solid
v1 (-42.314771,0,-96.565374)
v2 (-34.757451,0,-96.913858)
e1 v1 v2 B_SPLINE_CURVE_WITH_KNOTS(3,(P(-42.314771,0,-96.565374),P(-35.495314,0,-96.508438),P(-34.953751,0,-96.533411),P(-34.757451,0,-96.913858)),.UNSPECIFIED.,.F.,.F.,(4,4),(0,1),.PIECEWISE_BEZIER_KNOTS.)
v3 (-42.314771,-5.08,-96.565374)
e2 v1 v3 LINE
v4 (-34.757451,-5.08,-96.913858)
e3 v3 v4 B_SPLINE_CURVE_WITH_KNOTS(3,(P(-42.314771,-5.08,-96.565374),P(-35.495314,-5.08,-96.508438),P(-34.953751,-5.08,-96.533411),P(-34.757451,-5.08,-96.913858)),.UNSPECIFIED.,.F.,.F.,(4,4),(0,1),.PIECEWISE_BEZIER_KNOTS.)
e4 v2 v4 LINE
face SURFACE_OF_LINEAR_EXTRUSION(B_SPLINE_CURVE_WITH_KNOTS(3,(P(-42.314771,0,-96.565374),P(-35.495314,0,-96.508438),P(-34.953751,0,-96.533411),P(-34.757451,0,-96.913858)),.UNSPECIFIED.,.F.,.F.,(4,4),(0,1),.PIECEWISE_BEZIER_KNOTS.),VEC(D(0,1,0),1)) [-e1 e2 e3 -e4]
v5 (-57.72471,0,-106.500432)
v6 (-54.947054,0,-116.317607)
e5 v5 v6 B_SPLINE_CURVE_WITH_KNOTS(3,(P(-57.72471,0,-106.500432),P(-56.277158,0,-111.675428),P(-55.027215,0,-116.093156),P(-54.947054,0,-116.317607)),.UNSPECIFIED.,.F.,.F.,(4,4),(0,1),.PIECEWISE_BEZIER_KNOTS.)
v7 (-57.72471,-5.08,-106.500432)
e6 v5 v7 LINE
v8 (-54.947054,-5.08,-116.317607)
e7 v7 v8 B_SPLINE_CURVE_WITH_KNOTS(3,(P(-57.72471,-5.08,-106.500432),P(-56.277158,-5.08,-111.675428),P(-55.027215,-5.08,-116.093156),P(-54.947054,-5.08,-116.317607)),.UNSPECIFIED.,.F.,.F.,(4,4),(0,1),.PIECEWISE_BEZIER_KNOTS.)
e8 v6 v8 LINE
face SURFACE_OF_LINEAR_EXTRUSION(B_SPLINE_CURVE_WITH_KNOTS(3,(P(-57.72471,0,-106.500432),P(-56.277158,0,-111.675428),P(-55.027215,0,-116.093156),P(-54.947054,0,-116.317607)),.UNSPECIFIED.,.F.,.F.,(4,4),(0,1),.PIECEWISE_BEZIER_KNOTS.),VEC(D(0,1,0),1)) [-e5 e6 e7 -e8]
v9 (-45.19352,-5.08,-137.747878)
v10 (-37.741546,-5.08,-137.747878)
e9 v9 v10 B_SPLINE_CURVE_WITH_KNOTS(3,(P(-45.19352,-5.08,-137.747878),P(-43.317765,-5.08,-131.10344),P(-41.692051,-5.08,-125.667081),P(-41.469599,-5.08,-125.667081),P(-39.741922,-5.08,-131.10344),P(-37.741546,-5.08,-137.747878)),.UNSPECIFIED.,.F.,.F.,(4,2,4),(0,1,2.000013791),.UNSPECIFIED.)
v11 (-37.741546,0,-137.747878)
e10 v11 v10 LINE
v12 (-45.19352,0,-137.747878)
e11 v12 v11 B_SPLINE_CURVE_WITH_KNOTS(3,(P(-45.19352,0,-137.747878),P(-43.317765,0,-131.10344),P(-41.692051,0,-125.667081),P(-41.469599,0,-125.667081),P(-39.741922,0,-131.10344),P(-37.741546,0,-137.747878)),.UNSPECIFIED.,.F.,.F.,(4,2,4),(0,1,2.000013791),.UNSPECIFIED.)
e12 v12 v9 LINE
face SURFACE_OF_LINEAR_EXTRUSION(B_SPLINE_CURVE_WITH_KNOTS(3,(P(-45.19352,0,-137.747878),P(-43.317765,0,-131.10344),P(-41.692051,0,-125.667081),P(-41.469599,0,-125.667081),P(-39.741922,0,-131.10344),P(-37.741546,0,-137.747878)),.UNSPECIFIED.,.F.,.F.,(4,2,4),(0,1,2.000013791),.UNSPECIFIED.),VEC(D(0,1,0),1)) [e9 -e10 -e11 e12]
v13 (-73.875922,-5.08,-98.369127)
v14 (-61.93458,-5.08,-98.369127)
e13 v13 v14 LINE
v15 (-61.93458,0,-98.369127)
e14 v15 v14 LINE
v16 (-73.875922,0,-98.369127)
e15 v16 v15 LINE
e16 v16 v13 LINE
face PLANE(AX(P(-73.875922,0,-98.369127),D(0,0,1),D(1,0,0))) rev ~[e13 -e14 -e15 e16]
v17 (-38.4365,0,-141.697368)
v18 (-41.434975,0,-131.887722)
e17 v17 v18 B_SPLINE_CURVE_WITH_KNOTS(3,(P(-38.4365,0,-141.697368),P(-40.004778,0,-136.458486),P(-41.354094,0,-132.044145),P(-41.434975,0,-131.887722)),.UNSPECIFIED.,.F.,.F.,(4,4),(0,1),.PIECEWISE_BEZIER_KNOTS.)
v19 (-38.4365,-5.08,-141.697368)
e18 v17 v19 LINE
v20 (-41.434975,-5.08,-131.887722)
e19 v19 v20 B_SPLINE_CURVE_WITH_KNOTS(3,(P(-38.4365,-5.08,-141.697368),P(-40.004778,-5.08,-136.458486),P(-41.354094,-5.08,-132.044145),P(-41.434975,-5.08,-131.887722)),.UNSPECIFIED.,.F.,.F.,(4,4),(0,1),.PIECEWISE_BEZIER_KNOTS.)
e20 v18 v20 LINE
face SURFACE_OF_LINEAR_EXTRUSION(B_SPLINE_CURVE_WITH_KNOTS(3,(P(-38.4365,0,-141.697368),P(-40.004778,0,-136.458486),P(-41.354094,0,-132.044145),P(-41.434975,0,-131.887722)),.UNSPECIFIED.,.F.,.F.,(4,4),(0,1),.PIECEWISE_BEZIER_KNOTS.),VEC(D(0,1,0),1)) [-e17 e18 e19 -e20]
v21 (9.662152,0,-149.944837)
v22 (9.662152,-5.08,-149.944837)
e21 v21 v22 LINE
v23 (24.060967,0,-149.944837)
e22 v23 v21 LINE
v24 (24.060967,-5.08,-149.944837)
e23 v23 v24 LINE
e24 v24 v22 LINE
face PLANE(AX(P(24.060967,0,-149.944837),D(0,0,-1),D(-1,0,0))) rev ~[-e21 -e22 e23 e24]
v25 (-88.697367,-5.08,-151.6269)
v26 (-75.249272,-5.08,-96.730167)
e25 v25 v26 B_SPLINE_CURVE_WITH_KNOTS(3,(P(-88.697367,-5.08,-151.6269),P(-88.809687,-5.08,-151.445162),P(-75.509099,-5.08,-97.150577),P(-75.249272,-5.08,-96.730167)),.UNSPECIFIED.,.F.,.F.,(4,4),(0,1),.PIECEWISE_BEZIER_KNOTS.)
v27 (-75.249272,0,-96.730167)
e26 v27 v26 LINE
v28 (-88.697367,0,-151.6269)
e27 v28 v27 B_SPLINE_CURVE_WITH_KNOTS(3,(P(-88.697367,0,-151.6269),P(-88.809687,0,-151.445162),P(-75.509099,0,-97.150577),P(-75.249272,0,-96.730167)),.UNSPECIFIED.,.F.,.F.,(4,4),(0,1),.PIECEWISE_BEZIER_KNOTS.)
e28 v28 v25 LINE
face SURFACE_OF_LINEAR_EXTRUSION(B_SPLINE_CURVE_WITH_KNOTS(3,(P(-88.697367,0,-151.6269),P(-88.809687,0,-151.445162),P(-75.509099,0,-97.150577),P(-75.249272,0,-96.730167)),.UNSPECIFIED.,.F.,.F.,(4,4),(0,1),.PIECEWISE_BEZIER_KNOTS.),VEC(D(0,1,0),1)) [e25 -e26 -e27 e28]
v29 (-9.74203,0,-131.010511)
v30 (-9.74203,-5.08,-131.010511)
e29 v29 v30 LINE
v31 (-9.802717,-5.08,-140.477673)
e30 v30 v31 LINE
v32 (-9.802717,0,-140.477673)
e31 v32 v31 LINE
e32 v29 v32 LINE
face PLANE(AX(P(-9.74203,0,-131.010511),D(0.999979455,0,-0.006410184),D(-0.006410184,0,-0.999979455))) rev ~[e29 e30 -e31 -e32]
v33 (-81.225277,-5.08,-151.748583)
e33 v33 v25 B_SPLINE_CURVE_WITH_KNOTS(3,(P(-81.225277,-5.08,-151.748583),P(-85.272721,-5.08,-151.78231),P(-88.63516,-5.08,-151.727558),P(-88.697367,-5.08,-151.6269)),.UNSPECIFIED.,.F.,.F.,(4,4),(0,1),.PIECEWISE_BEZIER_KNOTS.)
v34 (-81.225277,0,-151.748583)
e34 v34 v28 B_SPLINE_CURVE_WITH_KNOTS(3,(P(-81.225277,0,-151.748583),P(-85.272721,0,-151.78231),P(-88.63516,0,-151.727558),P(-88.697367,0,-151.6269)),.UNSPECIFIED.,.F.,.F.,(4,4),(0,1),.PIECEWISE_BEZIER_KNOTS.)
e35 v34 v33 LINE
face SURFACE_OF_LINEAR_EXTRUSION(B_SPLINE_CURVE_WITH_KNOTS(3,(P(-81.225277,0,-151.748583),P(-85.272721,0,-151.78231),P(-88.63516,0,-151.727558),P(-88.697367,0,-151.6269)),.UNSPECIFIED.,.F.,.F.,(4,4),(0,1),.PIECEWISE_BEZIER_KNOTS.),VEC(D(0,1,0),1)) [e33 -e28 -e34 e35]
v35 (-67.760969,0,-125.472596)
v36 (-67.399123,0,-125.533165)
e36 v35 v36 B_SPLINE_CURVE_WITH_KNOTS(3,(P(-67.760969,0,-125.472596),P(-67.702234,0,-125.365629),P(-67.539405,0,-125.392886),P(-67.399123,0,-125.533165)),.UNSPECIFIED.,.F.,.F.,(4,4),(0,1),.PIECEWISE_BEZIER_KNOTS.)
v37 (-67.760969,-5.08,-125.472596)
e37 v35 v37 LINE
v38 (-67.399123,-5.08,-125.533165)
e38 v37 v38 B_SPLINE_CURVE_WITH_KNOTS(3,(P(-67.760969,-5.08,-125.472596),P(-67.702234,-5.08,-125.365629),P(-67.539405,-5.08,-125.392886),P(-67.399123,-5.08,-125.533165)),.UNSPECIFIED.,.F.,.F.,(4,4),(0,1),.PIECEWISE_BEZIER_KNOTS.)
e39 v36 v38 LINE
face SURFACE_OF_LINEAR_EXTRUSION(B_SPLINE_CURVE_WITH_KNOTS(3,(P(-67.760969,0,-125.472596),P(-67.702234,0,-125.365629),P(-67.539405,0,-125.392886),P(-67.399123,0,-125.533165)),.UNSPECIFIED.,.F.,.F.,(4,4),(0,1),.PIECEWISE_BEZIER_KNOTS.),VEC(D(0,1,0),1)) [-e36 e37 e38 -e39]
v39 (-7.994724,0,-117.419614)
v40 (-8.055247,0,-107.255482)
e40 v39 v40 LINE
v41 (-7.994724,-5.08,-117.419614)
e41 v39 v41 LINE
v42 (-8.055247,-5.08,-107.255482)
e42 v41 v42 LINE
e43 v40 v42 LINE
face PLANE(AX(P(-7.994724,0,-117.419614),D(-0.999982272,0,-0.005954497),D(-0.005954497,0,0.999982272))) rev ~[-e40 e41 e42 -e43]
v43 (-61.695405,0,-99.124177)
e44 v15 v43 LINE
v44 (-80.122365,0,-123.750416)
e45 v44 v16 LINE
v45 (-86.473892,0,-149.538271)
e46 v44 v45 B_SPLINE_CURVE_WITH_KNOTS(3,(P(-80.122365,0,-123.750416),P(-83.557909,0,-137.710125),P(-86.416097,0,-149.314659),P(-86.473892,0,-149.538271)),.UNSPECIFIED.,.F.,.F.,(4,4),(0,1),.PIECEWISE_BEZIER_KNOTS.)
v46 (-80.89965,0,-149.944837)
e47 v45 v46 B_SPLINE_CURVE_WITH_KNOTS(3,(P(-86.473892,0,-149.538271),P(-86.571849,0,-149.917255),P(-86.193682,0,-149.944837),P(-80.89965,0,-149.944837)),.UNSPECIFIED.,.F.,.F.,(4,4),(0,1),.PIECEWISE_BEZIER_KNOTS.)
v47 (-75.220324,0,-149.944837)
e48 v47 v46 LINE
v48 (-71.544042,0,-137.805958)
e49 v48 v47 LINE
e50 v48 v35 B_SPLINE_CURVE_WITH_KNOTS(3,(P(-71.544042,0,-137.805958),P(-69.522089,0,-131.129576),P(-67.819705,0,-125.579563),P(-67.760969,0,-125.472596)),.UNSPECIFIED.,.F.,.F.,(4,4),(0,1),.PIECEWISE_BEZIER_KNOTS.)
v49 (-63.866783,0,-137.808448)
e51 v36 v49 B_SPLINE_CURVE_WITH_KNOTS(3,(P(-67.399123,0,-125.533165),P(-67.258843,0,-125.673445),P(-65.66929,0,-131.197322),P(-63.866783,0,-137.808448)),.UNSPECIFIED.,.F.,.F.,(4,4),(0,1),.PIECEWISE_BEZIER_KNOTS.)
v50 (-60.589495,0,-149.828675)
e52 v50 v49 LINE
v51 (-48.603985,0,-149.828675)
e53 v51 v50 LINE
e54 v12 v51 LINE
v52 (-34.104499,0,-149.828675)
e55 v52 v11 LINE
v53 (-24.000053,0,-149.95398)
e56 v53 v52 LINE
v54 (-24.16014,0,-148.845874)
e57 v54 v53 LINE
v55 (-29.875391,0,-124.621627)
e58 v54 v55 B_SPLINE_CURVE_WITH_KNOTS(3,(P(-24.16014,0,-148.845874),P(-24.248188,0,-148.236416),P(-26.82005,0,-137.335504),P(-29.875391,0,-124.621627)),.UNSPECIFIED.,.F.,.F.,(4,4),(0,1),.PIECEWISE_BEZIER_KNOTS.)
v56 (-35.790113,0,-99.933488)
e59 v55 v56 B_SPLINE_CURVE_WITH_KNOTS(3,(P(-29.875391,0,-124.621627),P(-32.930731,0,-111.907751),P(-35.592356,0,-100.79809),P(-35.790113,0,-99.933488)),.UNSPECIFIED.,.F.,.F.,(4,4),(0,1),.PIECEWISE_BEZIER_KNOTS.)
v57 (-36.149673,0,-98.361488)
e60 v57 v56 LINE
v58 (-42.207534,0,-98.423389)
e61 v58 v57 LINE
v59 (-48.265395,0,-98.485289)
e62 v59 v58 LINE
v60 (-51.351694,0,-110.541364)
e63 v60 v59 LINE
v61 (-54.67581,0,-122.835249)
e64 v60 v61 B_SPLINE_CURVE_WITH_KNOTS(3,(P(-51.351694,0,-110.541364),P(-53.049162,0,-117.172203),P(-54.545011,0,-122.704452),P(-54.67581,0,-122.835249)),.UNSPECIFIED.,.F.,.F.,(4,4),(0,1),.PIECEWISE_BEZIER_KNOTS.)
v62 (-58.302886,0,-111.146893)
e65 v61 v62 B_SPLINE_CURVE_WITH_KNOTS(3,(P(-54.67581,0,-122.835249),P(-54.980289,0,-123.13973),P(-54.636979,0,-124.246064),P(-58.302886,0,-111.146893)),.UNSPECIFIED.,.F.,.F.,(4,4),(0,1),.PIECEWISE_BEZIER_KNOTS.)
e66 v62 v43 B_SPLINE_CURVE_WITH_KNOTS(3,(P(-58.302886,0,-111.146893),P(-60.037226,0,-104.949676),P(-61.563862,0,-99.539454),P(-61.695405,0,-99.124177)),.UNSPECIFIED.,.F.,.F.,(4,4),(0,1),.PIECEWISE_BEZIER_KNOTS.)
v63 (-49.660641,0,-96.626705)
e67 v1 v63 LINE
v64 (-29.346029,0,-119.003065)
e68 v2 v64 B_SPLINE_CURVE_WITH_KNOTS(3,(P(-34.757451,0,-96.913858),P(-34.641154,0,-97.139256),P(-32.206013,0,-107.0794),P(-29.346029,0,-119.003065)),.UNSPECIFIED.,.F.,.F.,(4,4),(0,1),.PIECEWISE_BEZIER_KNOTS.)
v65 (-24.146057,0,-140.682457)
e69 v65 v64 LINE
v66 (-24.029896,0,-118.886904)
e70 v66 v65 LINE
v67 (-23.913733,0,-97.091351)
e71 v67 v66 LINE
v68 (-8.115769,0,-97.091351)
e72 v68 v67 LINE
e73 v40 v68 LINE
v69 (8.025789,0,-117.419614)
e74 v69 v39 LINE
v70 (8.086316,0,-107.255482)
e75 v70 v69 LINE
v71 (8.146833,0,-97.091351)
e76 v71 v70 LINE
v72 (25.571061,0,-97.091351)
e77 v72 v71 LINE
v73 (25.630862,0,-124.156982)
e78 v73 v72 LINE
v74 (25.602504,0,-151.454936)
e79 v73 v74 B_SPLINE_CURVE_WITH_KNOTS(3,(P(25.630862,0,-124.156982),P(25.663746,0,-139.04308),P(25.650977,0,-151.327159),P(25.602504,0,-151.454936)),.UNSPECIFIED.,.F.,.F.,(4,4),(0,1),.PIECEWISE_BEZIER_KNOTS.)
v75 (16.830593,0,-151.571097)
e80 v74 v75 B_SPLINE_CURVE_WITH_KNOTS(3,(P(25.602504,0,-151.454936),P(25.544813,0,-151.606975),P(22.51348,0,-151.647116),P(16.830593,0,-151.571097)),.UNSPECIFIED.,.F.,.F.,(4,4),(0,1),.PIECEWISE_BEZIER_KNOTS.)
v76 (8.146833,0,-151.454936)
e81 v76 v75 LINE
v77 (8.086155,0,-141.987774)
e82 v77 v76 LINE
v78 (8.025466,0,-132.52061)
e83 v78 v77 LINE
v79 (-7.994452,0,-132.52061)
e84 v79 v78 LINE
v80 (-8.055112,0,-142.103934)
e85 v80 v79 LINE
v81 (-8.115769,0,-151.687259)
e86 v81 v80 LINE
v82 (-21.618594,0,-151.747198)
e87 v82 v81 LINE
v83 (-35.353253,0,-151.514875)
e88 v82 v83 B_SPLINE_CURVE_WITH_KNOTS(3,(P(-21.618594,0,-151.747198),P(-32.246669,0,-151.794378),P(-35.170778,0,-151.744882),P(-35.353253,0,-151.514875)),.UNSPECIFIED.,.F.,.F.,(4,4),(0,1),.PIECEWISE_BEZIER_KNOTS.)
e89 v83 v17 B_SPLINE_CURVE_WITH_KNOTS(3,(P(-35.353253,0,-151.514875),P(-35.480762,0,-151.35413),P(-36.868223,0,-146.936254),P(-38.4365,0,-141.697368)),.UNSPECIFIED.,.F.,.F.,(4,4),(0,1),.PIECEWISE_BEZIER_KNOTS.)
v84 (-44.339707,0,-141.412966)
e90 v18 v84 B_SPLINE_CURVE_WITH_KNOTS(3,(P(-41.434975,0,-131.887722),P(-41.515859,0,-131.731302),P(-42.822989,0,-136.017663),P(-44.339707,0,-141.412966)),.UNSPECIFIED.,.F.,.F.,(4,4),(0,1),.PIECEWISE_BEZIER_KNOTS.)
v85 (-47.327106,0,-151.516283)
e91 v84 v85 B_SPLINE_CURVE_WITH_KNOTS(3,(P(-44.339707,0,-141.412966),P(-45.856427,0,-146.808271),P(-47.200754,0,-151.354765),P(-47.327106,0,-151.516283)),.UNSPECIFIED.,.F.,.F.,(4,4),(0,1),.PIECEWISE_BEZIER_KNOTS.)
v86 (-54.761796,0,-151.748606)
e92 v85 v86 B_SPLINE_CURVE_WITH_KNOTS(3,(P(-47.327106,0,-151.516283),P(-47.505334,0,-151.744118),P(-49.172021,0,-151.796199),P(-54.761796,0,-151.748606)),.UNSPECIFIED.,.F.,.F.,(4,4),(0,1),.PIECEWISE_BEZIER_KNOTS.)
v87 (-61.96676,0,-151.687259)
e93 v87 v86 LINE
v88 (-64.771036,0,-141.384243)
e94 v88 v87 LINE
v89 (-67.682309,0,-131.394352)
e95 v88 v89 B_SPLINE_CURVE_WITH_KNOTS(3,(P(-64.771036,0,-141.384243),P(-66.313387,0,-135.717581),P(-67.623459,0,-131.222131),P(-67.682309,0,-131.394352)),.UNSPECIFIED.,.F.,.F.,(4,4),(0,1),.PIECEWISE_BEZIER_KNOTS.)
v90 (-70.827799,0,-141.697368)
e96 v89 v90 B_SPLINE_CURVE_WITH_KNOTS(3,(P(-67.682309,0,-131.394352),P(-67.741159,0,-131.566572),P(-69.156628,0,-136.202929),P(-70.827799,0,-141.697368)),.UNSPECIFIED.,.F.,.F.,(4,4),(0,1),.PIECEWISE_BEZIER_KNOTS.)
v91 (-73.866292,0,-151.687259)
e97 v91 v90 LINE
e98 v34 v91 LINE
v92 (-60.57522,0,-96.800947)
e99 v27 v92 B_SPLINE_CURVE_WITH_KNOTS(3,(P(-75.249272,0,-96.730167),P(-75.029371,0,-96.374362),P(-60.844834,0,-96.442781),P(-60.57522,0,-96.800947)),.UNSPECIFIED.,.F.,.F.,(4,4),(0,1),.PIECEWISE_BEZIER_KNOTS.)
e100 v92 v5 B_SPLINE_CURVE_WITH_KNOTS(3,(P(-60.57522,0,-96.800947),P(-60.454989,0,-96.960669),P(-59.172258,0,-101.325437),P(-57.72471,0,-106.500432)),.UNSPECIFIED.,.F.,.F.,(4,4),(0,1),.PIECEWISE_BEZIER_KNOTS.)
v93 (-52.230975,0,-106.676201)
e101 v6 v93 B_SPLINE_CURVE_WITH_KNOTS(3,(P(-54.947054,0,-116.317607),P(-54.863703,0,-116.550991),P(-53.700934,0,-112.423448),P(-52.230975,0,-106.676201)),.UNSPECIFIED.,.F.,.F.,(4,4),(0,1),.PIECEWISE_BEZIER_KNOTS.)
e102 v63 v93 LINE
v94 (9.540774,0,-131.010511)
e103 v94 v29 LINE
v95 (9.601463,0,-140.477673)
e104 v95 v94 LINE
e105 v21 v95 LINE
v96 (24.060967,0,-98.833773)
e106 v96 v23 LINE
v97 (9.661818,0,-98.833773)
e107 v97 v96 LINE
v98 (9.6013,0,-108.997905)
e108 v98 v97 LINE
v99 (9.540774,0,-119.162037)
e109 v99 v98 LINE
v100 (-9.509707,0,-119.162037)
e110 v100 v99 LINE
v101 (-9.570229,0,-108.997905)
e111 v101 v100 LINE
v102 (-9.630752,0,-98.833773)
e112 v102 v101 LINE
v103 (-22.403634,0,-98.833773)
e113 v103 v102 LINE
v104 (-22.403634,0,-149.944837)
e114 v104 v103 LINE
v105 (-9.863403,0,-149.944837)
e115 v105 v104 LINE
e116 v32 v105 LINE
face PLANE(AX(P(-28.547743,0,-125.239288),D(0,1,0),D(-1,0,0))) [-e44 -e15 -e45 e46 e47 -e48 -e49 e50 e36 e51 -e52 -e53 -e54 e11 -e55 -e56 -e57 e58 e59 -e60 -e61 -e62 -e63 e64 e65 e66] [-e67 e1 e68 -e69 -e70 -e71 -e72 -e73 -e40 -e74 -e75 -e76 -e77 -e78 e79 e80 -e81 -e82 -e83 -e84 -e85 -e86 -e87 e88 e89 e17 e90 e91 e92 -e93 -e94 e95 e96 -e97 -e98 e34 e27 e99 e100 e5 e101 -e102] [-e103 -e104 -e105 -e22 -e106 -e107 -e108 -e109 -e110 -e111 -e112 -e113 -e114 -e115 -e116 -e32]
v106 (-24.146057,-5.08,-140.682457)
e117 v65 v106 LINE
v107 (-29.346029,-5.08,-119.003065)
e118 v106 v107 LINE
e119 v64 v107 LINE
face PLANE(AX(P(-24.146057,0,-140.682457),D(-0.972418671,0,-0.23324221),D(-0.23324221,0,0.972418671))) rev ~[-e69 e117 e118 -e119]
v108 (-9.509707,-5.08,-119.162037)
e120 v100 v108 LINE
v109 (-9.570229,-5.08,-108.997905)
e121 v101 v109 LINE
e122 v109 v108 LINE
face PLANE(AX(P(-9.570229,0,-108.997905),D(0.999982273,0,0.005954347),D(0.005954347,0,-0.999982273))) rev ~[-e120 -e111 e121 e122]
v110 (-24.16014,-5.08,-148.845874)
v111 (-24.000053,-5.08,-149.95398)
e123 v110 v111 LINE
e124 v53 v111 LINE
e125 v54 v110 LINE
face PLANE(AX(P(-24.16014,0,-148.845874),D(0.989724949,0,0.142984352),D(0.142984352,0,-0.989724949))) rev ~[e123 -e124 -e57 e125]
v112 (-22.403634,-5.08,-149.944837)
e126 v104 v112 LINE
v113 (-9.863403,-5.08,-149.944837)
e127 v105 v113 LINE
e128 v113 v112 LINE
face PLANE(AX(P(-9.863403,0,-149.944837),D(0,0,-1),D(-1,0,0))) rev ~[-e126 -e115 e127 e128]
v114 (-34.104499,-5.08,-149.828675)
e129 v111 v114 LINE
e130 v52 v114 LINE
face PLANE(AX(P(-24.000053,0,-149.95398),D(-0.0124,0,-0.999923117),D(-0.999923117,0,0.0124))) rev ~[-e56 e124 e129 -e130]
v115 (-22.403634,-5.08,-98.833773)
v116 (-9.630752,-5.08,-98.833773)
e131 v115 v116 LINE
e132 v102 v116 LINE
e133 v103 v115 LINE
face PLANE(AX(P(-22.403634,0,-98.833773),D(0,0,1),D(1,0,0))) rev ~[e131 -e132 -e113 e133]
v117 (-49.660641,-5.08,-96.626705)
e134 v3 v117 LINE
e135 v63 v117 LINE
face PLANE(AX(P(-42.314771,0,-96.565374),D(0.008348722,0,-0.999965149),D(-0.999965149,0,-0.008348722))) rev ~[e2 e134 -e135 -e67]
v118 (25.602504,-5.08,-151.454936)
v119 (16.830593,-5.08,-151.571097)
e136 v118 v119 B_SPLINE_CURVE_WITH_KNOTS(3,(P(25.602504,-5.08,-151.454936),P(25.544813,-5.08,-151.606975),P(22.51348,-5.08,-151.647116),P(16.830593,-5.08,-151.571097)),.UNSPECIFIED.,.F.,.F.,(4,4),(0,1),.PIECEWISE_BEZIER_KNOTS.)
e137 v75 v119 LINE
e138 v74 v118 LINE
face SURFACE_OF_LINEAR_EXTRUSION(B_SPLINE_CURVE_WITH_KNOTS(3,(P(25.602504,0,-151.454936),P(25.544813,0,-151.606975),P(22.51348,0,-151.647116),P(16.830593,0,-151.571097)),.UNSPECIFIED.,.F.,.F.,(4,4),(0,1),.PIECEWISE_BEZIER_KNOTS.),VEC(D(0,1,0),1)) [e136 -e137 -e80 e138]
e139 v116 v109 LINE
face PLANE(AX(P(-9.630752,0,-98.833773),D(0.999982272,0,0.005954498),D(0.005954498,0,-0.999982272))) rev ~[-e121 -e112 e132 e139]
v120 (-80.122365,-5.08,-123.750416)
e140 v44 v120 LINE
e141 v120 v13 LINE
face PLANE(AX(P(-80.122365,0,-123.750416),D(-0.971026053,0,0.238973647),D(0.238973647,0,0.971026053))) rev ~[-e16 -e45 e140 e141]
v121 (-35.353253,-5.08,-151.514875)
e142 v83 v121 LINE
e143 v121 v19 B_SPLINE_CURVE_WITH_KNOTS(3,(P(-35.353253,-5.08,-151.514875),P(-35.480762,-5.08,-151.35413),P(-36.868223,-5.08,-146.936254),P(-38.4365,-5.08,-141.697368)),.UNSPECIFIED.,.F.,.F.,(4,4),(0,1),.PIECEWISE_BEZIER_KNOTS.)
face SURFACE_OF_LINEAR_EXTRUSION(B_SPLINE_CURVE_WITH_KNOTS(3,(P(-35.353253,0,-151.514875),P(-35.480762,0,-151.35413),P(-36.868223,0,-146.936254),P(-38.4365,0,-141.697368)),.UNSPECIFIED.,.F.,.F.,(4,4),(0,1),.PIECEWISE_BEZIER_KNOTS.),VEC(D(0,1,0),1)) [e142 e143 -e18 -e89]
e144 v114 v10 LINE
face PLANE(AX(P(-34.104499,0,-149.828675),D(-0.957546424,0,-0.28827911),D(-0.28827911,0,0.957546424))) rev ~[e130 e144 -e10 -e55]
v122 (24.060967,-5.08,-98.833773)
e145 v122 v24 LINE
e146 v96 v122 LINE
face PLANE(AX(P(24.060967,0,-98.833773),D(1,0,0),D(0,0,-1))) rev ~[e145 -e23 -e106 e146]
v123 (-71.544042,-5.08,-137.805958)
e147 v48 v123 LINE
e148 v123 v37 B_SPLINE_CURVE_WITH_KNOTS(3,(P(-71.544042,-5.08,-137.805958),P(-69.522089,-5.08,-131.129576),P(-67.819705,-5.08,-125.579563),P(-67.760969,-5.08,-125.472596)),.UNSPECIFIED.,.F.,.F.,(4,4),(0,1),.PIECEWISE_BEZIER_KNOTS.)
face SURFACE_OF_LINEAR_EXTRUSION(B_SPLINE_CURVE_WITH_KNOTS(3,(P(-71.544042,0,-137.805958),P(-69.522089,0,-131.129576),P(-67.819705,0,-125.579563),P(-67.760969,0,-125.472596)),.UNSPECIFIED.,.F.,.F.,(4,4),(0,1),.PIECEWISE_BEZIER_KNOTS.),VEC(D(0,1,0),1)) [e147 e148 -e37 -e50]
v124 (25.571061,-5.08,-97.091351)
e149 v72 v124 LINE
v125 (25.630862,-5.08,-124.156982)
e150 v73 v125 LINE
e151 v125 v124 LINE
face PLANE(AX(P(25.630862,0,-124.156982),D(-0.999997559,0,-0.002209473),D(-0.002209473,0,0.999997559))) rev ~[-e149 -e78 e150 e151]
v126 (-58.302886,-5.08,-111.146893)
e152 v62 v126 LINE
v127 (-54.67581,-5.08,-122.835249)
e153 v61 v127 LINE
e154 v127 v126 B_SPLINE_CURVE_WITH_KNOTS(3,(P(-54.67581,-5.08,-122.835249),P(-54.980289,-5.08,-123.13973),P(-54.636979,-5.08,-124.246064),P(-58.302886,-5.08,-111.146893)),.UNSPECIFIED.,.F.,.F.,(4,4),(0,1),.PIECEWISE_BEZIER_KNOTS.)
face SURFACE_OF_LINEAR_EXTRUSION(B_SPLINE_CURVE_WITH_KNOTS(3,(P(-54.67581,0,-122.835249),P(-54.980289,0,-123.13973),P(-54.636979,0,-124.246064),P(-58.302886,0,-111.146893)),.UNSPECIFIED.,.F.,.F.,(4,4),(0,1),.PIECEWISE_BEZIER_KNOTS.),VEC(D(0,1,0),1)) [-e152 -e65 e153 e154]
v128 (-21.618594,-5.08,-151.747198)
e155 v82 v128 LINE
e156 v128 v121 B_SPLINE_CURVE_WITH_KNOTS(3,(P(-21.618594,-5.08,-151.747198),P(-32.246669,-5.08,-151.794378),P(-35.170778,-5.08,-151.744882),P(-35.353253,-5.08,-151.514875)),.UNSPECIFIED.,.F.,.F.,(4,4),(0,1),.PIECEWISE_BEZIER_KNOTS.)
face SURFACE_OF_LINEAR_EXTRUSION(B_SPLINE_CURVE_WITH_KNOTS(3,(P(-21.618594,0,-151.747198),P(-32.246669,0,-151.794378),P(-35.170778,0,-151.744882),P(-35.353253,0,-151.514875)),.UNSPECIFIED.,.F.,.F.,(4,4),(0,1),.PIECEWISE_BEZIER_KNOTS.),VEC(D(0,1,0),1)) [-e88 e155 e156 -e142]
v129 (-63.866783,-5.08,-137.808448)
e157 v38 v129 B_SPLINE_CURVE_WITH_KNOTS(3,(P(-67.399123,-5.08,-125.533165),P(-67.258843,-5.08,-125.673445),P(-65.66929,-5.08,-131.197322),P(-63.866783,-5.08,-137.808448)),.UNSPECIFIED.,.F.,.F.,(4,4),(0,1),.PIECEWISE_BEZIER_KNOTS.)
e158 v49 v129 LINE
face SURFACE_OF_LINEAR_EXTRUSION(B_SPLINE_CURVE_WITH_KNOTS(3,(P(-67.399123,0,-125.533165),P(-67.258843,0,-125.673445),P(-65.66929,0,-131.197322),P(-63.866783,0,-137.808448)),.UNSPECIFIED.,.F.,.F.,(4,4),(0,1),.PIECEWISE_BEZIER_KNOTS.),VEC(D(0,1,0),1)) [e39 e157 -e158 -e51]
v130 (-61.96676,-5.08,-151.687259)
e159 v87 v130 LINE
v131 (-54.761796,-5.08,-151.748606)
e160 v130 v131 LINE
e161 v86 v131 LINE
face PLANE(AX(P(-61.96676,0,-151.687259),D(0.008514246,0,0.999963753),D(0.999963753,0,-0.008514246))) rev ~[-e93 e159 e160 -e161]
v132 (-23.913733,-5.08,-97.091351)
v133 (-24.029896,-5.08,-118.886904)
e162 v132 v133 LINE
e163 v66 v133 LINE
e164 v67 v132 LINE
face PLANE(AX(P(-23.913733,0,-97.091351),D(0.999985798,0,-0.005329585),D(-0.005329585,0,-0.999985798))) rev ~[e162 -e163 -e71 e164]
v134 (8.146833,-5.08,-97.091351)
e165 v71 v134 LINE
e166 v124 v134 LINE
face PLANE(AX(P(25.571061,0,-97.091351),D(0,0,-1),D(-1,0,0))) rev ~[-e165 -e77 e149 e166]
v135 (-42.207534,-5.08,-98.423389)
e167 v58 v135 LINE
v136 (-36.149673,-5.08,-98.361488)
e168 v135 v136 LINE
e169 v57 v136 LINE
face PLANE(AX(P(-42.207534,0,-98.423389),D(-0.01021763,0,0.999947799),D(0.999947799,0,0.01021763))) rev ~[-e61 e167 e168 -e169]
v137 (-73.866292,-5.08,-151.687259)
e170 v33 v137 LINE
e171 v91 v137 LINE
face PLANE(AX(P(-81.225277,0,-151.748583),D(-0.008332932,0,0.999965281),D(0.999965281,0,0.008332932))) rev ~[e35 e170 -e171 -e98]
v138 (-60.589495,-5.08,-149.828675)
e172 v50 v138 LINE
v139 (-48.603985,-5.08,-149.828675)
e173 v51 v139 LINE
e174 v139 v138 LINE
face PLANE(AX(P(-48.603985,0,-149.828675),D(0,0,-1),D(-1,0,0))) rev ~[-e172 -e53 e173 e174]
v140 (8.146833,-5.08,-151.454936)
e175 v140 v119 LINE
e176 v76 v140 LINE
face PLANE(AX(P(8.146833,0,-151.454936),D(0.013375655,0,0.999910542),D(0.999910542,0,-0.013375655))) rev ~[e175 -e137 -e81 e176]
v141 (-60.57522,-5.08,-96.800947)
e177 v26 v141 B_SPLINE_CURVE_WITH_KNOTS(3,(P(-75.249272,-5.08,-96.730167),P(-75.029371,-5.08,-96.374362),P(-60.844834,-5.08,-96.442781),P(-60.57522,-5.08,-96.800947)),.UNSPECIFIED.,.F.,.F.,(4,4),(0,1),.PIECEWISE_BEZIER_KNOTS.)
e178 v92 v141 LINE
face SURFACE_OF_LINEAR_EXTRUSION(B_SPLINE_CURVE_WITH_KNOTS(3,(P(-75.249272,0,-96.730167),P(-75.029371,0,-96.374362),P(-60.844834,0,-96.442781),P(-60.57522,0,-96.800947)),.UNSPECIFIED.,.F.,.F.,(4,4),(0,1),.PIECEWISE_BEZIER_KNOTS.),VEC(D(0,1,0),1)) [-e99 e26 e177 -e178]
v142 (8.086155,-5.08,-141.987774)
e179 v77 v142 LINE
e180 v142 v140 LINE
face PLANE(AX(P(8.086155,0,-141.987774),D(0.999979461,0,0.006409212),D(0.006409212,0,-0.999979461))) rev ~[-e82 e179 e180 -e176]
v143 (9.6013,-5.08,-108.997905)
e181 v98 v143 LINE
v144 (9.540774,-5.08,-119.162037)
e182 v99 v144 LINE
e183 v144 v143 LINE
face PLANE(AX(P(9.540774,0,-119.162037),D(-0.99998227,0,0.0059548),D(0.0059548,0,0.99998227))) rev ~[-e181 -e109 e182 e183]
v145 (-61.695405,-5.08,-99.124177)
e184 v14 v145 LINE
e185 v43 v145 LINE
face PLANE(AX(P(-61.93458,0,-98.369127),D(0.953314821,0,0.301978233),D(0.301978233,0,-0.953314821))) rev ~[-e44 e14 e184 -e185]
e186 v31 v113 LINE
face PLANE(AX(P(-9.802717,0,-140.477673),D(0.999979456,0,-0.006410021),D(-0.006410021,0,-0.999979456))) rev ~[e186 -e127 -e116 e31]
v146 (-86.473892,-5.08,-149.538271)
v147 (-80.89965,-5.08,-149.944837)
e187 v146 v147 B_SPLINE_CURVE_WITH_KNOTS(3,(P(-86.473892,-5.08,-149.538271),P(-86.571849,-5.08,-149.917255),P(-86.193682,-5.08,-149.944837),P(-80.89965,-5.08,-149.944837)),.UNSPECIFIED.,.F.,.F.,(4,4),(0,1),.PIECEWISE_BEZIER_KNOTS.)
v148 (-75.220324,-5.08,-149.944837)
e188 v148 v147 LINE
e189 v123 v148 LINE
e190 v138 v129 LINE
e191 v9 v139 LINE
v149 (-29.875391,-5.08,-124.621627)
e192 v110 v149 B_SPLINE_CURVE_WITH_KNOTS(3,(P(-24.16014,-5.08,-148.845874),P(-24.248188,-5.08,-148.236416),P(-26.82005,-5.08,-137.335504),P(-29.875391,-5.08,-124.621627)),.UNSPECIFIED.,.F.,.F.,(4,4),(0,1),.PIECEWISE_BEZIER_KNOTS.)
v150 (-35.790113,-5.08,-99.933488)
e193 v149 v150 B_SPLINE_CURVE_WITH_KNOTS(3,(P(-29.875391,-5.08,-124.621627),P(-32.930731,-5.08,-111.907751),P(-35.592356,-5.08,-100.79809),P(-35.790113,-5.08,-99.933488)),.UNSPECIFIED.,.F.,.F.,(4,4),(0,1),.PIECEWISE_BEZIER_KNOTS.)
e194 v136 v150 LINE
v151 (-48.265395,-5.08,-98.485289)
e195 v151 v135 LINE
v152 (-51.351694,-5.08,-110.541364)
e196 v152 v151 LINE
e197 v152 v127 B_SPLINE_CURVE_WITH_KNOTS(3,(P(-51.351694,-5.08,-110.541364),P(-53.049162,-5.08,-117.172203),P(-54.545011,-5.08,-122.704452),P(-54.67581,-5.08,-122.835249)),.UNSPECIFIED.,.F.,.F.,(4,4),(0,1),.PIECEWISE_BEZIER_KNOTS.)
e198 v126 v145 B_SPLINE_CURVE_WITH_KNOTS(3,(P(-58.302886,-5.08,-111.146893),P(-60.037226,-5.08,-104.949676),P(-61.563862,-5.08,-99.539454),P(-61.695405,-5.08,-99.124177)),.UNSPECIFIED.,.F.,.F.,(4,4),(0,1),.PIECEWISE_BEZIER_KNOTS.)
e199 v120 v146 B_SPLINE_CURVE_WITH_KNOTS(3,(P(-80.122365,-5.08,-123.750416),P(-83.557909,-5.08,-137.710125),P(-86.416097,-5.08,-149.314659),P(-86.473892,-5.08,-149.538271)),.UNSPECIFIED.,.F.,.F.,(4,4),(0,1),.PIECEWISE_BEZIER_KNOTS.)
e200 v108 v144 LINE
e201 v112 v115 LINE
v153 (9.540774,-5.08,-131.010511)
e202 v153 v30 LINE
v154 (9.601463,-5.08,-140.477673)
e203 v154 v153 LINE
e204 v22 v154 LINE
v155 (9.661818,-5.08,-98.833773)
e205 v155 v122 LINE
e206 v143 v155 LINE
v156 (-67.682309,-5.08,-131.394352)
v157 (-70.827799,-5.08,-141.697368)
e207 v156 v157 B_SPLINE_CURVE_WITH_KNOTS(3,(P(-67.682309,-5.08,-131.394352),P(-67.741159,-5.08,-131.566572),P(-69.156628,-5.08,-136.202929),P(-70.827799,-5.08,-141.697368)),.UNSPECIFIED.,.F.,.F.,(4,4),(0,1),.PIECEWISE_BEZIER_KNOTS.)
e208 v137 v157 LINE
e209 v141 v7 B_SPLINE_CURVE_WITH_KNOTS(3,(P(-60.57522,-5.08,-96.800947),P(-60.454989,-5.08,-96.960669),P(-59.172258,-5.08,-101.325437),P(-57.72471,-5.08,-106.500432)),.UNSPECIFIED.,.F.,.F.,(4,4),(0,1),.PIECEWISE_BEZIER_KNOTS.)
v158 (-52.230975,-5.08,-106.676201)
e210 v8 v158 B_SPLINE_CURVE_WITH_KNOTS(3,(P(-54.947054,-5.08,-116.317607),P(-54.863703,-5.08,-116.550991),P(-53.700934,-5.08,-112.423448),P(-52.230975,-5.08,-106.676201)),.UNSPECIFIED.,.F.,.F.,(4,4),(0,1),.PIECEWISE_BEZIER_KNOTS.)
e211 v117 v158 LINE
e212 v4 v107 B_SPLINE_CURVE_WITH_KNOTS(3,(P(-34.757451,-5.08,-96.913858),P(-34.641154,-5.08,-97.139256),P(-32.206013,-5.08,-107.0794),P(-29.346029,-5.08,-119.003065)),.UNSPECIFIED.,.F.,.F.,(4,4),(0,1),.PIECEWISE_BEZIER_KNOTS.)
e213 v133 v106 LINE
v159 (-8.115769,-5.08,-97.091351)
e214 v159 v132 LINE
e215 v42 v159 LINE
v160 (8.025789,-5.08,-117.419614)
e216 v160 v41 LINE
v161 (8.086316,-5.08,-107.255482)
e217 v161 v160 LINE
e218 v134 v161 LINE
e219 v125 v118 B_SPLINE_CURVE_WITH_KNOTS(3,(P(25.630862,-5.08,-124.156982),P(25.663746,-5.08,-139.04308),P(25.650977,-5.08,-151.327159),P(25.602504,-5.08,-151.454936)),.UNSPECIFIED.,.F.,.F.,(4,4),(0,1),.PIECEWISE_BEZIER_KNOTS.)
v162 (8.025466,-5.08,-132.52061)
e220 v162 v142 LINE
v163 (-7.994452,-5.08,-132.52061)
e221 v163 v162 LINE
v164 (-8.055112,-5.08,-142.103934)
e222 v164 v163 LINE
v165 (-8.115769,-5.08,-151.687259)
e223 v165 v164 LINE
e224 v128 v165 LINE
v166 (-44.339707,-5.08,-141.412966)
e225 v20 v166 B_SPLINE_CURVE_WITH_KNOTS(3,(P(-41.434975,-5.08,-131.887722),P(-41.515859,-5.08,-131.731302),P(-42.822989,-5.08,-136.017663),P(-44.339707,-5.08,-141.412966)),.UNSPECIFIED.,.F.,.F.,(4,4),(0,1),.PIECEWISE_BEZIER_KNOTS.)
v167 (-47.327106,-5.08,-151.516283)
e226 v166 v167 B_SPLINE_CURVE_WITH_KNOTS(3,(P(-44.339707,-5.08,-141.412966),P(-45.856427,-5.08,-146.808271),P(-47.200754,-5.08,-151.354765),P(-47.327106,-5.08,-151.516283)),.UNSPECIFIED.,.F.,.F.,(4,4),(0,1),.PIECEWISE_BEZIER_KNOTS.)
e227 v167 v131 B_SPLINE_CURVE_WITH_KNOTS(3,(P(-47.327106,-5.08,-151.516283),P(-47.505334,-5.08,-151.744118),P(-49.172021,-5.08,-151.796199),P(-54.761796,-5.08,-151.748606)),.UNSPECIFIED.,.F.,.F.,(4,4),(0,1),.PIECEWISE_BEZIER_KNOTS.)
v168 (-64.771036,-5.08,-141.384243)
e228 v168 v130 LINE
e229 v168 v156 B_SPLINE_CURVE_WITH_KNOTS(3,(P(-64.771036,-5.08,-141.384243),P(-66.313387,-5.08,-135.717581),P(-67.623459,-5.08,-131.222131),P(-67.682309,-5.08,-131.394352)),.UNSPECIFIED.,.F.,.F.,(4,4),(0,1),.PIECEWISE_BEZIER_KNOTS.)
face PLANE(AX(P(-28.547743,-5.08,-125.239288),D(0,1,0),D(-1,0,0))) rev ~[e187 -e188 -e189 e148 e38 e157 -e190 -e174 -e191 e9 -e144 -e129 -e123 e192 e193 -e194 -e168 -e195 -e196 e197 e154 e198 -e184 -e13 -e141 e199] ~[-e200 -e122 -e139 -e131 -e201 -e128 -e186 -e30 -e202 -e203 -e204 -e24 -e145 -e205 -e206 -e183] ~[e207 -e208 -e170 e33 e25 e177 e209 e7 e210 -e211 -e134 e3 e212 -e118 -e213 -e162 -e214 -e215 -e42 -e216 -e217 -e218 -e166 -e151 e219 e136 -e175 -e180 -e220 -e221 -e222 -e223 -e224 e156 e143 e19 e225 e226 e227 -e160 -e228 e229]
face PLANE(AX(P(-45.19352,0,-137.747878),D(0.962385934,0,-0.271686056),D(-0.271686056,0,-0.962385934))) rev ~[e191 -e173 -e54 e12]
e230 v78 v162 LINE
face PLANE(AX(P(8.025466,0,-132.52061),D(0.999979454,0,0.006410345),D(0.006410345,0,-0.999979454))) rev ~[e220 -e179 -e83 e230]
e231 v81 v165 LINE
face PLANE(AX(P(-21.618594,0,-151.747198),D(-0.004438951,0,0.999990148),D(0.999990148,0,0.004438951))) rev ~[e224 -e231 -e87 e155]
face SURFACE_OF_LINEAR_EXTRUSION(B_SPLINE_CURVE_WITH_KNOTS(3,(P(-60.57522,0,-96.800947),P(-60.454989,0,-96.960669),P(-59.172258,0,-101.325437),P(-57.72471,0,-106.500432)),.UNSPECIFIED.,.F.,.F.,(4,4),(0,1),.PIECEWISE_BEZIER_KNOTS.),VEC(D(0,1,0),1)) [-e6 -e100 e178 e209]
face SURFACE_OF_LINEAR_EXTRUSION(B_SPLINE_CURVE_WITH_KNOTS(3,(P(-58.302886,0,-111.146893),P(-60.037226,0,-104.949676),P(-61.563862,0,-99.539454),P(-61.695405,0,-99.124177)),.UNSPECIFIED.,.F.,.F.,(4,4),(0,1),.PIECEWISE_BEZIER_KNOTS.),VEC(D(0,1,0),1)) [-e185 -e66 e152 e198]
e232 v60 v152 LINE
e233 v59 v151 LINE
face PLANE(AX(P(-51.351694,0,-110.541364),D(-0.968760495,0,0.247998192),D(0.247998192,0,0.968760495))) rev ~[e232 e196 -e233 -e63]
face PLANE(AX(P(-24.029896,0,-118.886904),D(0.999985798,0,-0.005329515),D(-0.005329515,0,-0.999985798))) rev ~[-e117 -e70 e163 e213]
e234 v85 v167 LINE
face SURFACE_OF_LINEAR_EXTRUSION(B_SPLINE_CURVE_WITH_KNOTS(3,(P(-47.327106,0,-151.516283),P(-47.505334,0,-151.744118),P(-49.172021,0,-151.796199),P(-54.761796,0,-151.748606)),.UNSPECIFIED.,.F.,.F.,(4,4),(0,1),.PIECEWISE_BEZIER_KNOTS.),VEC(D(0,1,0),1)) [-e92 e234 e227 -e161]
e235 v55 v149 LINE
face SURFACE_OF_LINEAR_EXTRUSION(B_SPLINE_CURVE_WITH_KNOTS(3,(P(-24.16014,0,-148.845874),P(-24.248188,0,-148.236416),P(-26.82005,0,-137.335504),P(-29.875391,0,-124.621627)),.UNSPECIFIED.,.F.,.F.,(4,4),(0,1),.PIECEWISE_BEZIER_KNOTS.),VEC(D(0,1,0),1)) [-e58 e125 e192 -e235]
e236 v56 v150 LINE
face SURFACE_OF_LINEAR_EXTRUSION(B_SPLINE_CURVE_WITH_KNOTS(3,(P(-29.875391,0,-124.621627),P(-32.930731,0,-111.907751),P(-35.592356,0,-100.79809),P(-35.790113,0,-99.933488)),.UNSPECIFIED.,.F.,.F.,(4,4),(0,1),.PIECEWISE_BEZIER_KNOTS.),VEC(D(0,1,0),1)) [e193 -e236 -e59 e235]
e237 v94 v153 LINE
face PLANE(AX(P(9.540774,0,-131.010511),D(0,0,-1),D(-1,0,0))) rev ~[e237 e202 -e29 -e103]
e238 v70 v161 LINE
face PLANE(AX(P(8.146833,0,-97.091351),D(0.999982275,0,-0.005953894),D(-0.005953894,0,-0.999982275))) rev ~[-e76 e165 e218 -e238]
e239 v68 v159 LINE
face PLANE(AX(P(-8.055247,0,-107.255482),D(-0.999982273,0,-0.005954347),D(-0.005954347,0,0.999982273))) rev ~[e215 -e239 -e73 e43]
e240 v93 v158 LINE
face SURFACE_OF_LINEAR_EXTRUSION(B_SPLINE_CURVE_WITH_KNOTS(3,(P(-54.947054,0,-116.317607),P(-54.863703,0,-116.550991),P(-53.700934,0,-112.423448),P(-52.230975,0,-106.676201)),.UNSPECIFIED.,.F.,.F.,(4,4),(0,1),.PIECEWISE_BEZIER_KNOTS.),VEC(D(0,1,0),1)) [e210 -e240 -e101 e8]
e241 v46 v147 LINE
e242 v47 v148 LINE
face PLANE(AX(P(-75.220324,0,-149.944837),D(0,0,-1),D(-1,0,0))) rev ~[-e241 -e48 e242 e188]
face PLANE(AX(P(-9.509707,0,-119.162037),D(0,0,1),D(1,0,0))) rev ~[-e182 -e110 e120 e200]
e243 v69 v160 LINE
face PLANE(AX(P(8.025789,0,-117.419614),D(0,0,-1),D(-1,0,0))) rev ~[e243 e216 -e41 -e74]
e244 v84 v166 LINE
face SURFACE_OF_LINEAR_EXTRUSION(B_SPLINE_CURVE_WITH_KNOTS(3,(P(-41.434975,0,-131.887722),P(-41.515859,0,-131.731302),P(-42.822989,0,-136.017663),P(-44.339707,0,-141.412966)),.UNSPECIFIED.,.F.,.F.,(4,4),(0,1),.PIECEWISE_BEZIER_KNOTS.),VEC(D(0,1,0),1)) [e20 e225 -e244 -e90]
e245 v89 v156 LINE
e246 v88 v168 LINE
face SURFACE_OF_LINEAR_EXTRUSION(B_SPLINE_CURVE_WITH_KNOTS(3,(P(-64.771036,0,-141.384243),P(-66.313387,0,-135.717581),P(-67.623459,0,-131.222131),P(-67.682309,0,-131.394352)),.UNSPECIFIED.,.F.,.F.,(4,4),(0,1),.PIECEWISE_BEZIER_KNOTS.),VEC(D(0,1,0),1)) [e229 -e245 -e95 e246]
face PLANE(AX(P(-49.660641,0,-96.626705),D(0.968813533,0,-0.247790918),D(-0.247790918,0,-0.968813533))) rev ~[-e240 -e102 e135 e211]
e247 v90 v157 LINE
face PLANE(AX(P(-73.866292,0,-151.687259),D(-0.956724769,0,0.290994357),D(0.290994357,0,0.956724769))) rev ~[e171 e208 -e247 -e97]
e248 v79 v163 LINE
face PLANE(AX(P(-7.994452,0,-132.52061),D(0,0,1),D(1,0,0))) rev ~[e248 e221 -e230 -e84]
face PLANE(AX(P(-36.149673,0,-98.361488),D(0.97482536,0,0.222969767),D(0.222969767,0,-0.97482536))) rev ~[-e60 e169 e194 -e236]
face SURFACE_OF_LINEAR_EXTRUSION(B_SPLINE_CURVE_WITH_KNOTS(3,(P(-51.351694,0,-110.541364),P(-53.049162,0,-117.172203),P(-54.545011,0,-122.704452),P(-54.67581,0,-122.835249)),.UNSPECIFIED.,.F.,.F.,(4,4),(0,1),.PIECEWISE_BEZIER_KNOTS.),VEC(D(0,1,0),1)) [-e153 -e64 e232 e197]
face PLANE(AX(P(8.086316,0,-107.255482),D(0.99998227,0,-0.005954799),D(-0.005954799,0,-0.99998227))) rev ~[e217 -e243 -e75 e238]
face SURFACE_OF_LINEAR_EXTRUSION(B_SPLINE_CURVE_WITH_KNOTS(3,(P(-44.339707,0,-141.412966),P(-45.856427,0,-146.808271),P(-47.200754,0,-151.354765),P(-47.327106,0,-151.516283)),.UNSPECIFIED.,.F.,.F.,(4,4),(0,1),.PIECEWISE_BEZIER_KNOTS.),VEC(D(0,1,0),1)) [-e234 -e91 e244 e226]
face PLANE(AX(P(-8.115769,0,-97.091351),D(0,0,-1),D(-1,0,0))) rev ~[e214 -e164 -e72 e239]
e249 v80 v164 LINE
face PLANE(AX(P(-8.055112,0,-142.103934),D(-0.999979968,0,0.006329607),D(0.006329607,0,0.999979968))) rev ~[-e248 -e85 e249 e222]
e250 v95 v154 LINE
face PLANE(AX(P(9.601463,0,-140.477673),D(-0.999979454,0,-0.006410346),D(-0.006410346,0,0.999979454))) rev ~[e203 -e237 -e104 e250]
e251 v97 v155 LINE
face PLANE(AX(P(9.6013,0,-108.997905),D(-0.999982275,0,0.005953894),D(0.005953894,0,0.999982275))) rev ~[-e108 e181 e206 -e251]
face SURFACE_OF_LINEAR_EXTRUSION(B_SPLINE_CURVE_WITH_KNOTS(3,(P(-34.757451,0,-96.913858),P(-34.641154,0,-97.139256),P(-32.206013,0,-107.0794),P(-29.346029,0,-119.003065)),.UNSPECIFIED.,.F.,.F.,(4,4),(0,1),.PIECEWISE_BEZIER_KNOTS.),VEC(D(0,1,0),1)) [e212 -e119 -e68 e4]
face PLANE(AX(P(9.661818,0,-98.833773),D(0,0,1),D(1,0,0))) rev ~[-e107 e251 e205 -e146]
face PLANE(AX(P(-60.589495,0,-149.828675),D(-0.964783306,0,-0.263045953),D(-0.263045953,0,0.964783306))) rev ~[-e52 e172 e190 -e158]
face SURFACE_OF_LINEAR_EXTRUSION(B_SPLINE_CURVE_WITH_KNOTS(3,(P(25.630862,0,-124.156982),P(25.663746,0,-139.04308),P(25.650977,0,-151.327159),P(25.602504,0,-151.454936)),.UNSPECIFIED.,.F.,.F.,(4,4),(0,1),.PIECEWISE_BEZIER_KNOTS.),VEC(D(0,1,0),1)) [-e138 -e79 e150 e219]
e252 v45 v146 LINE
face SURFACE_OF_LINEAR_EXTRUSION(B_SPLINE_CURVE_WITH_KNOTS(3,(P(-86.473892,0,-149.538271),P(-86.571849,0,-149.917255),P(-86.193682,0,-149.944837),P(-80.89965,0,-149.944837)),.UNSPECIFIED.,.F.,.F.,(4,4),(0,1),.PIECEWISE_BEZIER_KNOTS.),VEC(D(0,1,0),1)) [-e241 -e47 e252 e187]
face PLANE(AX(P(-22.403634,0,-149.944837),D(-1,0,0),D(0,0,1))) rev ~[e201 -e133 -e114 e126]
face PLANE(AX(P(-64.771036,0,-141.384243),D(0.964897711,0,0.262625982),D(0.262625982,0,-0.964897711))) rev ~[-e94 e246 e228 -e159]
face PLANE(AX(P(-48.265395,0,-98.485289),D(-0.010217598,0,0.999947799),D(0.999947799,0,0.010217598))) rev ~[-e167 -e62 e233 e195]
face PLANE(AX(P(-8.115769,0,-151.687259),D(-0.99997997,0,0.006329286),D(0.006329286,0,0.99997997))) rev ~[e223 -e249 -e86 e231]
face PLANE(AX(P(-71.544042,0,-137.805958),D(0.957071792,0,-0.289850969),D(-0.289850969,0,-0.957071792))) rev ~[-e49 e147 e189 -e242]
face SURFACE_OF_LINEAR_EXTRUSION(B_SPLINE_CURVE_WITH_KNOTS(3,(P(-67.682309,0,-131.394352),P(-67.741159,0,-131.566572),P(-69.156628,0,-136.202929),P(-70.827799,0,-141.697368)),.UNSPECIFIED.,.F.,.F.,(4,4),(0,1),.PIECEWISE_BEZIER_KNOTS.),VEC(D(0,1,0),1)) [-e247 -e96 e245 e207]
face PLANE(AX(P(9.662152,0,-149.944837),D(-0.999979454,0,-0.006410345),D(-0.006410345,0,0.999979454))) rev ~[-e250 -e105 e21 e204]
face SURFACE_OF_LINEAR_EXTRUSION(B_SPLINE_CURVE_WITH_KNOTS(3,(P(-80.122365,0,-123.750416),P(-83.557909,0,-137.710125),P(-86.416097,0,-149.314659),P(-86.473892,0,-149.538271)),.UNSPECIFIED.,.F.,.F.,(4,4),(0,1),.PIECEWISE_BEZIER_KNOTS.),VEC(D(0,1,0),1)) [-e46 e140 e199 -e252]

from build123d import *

# Parameters (mm, degrees)
F1_DEPTH = 5.08


with BuildPart() as f1:
    # F0 (on Front) → F1 (new body)
    with BuildSketch(Plane.XZ):
        with BuildLine():
            add(Edge.make_bspline(
                [(-88.697367137, -151.6268995181), (-88.8096869402, -151.4451622066), (-75.5090993087, -97.1505766968), (-75.2492718061, -96.7301671852)],
                knots=[0, 0, 0, 0, 1, 1, 1, 1], degree=3))
            add(Edge.make_bspline(
                [(-81.2252771404, -151.7485828201), (-85.2727205926, -151.7823095151), (-88.6351599598, -151.727558088), (-88.697367137, -151.6268995181)],
                knots=[0, 0, 0, 0, 1, 1, 1, 1], degree=3))
            Line((-81.2252771404, -151.7485828201), (-73.8662922876, -151.6872587675))
            Line((-73.8662922876, -151.6872587675), (-70.8277989917, -141.6973681422))
            add(Edge.make_bspline(
                [(-67.6823091824, -131.3943521191), (-67.7411591055, -131.5665717782), (-69.1566280625, -136.202929372), (-70.8277989917, -141.6973681422)],
                knots=[0, 0, 0, 0, 1, 1, 1, 1], degree=3))
            add(Edge.make_bspline(
                [(-64.7710364528, -141.3842427444), (-66.3133869912, -135.7175812475), (-67.6234592594, -131.2221309262), (-67.6823091824, -131.3943521191)],
                knots=[0, 0, 0, 0, 1, 1, 1, 1], degree=3))
            Line((-64.7710364528, -141.3842427444), (-61.9667602367, -151.6872587675))
            Line((-61.9667602367, -151.6872587675), (-54.7617960796, -151.7486058281))
            add(Edge.make_bspline(
                [(-47.327106009, -151.5162830756), (-47.50533383, -151.7441177296), (-49.1720212624, -151.796198692), (-54.7617960796, -151.7486058281)],
                knots=[0, 0, 0, 0, 1, 1, 1, 1], degree=3))
            add(Edge.make_bspline(
                [(-44.3397073984, -141.4129659612), (-45.8564269984, -146.8082708266), (-47.2007536122, -151.3547652154), (-47.327106009, -151.5162830756)],
                knots=[0, 0, 0, 0, 1, 1, 1, 1], degree=3))
            add(Edge.make_bspline(
                [(-41.434975083, -131.8877223747), (-41.5158590234, -131.7313015586), (-42.8229893322, -136.0176626297), (-44.3397073984, -141.4129659612)],
                knots=[0, 0, 0, 0, 1, 1, 1, 1], degree=3))
            add(Edge.make_bspline(
                [(-38.4365004097, -141.6973681422), (-40.0047779231, -136.4584856268), (-41.3540942103, -132.0441447246), (-41.434975083, -131.8877223747)],
                knots=[0, 0, 0, 0, 1, 1, 1, 1], degree=3))
            add(Edge.make_bspline(
                [(-35.35325344, -151.5148749846), (-35.4807623735, -151.3541301939), (-36.8682228963, -146.9362537254), (-38.4365004097, -141.6973681422)],
                knots=[0, 0, 0, 0, 1, 1, 1, 1], degree=3))
            add(Edge.make_bspline(
                [(-21.618593749, -151.747197737), (-32.2466686649, -151.7943779904), (-35.1707783378, -151.744881596), (-35.35325344, -151.5148749846)],
                knots=[0, 0, 0, 0, 1, 1, 1, 1], degree=3))
            Line((-21.618593749, -151.747197737), (-8.1157690404, -151.6872587675))
            Line((-8.1157690404, -151.6872587675), (-8.0551122205, -142.1039337259))
            Line((-8.0551122205, -142.1039337259), (-7.994452333, -132.5206102182))
            Line((-7.994452333, -132.5206102182), (0.0155073543, -132.5206102182))
            Line((0.0155073543, -132.5206102182), (8.0254655077, -132.5206102182))
            Line((8.0254655077, -132.5206102182), (8.0861545387, -141.9877738836))
            Line((8.0861545387, -141.9877738836), (8.1468328327, -151.4549360151))
            Line((8.1468328327, -151.4549360151), (16.8305932312, -151.5710973913))
            add(Edge.make_bspline(
                [(25.602503504, -151.4549360151), (25.5448131854, -151.6069745696), (22.5134799865, -151.6471159016), (16.8305932312, -151.5710973913)],
                knots=[0, 0, 0, 0, 1, 1, 1, 1], degree=3))
            add(Edge.make_bspline(
                [(25.6308616602, -124.1569819276), (25.6637462615, -139.0430796988), (25.6509768084, -151.3271586547), (25.602503504, -151.4549360151)],
                knots=[0, 0, 0, 0, 1, 1, 1, 1], degree=3))
            Line((25.6308616602, -124.1569819276), (25.5710607389, -97.0913505925))
            Line((25.5710607389, -97.0913505925), (16.8589513874, -97.0913505925))
            Line((16.8589513874, -97.0913505925), (8.1468328327, -97.0913505925))
            Line((8.1468328327, -97.0913505925), (8.0863155949, -107.25548194))
            Line((8.0863155949, -107.25548194), (8.0257891539, -117.4196144379))
            Line((8.0257891539, -117.4196144379), (0.0155349639, -117.4196144379))
            Line((0.0155349639, -117.4196144379), (-7.9947238277, -117.4196144379))
            Line((-7.9947238277, -117.4196144379), (-8.055247201, -107.25548194))
            Line((-8.055247201, -107.25548194), (-8.1157690404, -97.0913505925))
            Line((-8.1157690404, -97.0913505925), (-16.0147518261, -97.0913505925))
            Line((-16.0147518261, -97.0913505925), (-23.9137330779, -97.0913505925))
            Line((-23.9137330779, -97.0913505925), (-24.029895988, -118.8869035998))
            Line((-24.029895988, -118.8869035998), (-24.1460573642, -140.682456607))
            Line((-24.1460573642, -140.682456607), (-29.34602871, -119.003064976))
            add(Edge.make_bspline(
                [(-34.7574514629, -96.9138580697), (-34.6411535724, -97.1392555987), (-32.206013487, -107.0794001925), (-29.34602871, -119.003064976)],
                knots=[0, 0, 0, 0, 1, 1, 1, 1], degree=3))
            add(Edge.make_bspline(
                [(-42.3147712321, -96.5653737493), (-35.4953141815, -96.5084380938), (-34.9537513196, -96.5334106193), (-34.7574514629, -96.9138580697)],
                knots=[0, 0, 0, 0, 1, 1, 1, 1], degree=3))
            Line((-42.3147712321, -96.5653737493), (-49.6606411279, -96.6267045125))
            Line((-49.6606411279, -96.6267045125), (-52.2309748268, -106.6762014496))
            add(Edge.make_bspline(
                [(-54.9470536187, -116.3176067958), (-54.8637032182, -116.5509909851), (-53.7009344533, -112.4234481661), (-52.2309748268, -106.6762014496)],
                knots=[0, 0, 0, 0, 1, 1, 1, 1], degree=3))
            add(Edge.make_bspline(
                [(-57.7247095515, -106.5004324194), (-56.2771582062, -111.6754283637), (-55.0272151072, -116.0931558553), (-54.9470536187, -116.3176067958)],
                knots=[0, 0, 0, 0, 1, 1, 1, 1], degree=3))
            add(Edge.make_bspline(
                [(-60.5752196243, -96.8009467685), (-60.4549888956, -96.9606688526), (-59.172257829, -101.3254374338), (-57.7247095515, -106.5004324194)],
                knots=[0, 0, 0, 0, 1, 1, 1, 1], degree=3))
            add(Edge.make_bspline(
                [(-75.2492718061, -96.7301671852), (-75.0293705104, -96.3743622869), (-60.8448337816, -96.4427814387), (-60.5752196243, -96.8009467685)],
                knots=[0, 0, 0, 0, 1, 1, 1, 1], degree=3))
        make_face()
        with BuildLine():
            add(Edge.make_bspline(
                [(-71.5440418374, -137.8059582044), (-69.5220890449, -131.1295757823), (-67.8197054306, -125.5795634317), (-67.7609690139, -125.4725960617)],
                knots=[0, 0, 0, 0, 1, 1, 1, 1], degree=3))
            Line((-71.5440418374, -137.8059582044), (-75.2203236858, -149.9448365905))
            Line((-75.2203236858, -149.9448365905), (-80.8996503329, -149.9448365905))
            add(Edge.make_bspline(
                [(-86.4738924333, -149.5382710068), (-86.5718489025, -149.9172545717), (-86.1936823142, -149.9448365905), (-80.8996503329, -149.9448365905)],
                knots=[0, 0, 0, 0, 1, 1, 1, 1], degree=3))
            add(Edge.make_bspline(
                [(-80.122365283, -123.7504163439), (-83.5579088109, -137.7101251841), (-86.4160974282, -149.3146590921), (-86.4738924333, -149.5382710068)],
                knots=[0, 0, 0, 0, 1, 1, 1, 1], degree=3))
            Line((-80.122365283, -123.7504163439), (-73.8759219124, -98.369127073))
            Line((-73.8759219124, -98.369127073), (-67.9052507966, -98.369127073))
            Line((-67.9052507966, -98.369127073), (-61.9345796809, -98.369127073))
            Line((-61.9345796809, -98.369127073), (-61.695405139, -99.1241769771))
            add(Edge.make_bspline(
                [(-58.3028858485, -111.1468934117), (-60.0372260738, -104.9496764748), (-61.563862132, -99.5394543572), (-61.695405139, -99.1241769771)],
                knots=[0, 0, 0, 0, 1, 1, 1, 1], degree=3))
            add(Edge.make_bspline(
                [(-54.6758104934, -122.835249193), (-54.9802894759, -123.1397297094), (-54.6369790849, -124.2460643938), (-58.3028858485, -111.1468934117)],
                knots=[0, 0, 0, 0, 1, 1, 1, 1], degree=3))
            add(Edge.make_bspline(
                [(-51.3516940574, -110.5413640257), (-53.0491616239, -117.1722030235), (-54.5450114125, -122.704451646), (-54.6758104934, -122.835249193)],
                knots=[0, 0, 0, 0, 1, 1, 1, 1], degree=3))
            Line((-51.3516940574, -110.5413640257), (-48.2653946899, -98.485288641))
            Line((-48.2653946899, -98.485288641), (-42.2075339013, -98.4233886209))
            Line((-42.2075339013, -98.4233886209), (-36.1496731128, -98.3614884092))
            Line((-36.1496731128, -98.3614884092), (-35.7901129215, -99.9334880456))
            add(Edge.make_bspline(
                [(-29.8753911839, -124.6216274325), (-32.9307309547, -111.9077511161), (-35.59235589, -100.7980896958), (-35.7901129215, -99.9334880456)],
                knots=[0, 0, 0, 0, 1, 1, 1, 1], degree=3))
            add(Edge.make_bspline(
                [(-24.1601398086, -148.8458736769), (-24.2481884476, -148.2364156708), (-26.8200498792, -137.3355039405), (-29.8753911839, -124.6216274325)],
                knots=[0, 0, 0, 0, 1, 1, 1, 1], degree=3))
            Line((-24.1601398086, -148.8458736769), (-24.0000530474, -149.9539799791))
            Line((-24.0000530474, -149.9539799791), (-29.0522760681, -149.8913275967))
            Line((-29.0522760681, -149.8913275967), (-34.1044990889, -149.8286752143))
            Line((-34.1044990889, -149.8286752143), (-37.7415461214, -137.7478782833))
            add(Edge.make_bspline(
                [(-41.580826013, -125.6670813523), (-41.4695990909, -125.6670813523), (-39.7419219893, -131.1034402013), (-37.7415461214, -137.7478782833)],
                knots=[0, 0, 0, 0, 1, 1, 1, 1], degree=3))
            add(Edge.make_bspline(
                [(-45.1935198194, -137.7478782833), (-43.3177646111, -131.1034402013), (-41.6920514012, -125.6670813523), (-41.580826013, -125.6670813523)],
                knots=[0, 0, 0, 0, 1, 1, 1, 1], degree=3))
            Line((-45.1935198194, -137.7478782833), (-48.6039853683, -149.8286752143))
            Line((-48.6039853683, -149.8286752143), (-54.5967411191, -149.8286752143))
            Line((-54.5967411191, -149.8286752143), (-60.5894953361, -149.8286752143))
            Line((-60.5894953361, -149.8286752143), (-63.8667827745, -137.8084476726))
            add(Edge.make_bspline(
                [(-67.3991233589, -125.5331654511), (-67.2588434384, -125.6734453716), (-65.6692896386, -131.1973221412), (-63.8667827745, -137.8084476726)],
                knots=[0, 0, 0, 0, 1, 1, 1, 1], degree=3))
            add(Edge.make_bspline(
                [(-67.7609690139, -125.4725960617), (-67.7022341309, -125.3656286918), (-67.5394048133, -125.3928855306), (-67.3991233589, -125.5331654511)],
                knots=[0, 0, 0, 0, 1, 1, 1, 1], degree=3))
        make_face(mode=Mode.SUBTRACT)
        Polygon((-9.7420298412, -131.0105107935), (-9.8027173384, -140.4776729251), (-9.8634033017, -149.9448365905), (-16.1335192445, -149.9448365905), (-22.4036336533, -149.9448365905), (-22.4036336533, -124.38930468), (-22.4036336533, -98.8337731531), (-16.0171937443, -98.8337731531), (-9.6307523015, -98.8337731531), (-9.5702289282, -108.9979050758), (-9.5097070888, -119.162036615), (0.0155349639, -119.162036615), (9.5407739489, -119.162036615), (9.6013003899, -108.9979050758), (9.6618176277, -98.8337731531), (16.8613963734, -98.8337731531), (24.0609674497, -98.8337731531), (24.0609674497, -124.38930468), (24.0609674497, -149.9448365905), (16.8615589634, -149.9448365905), (9.662152011, -149.9448365905), (9.6014629799, -140.4776729251), (9.5407739489, -131.0105107935), (-0.1006279462, -131.0105107935), align=None, mode=Mode.SUBTRACT)
    extrude(amount=F1_DEPTH)


solid = f1.part
